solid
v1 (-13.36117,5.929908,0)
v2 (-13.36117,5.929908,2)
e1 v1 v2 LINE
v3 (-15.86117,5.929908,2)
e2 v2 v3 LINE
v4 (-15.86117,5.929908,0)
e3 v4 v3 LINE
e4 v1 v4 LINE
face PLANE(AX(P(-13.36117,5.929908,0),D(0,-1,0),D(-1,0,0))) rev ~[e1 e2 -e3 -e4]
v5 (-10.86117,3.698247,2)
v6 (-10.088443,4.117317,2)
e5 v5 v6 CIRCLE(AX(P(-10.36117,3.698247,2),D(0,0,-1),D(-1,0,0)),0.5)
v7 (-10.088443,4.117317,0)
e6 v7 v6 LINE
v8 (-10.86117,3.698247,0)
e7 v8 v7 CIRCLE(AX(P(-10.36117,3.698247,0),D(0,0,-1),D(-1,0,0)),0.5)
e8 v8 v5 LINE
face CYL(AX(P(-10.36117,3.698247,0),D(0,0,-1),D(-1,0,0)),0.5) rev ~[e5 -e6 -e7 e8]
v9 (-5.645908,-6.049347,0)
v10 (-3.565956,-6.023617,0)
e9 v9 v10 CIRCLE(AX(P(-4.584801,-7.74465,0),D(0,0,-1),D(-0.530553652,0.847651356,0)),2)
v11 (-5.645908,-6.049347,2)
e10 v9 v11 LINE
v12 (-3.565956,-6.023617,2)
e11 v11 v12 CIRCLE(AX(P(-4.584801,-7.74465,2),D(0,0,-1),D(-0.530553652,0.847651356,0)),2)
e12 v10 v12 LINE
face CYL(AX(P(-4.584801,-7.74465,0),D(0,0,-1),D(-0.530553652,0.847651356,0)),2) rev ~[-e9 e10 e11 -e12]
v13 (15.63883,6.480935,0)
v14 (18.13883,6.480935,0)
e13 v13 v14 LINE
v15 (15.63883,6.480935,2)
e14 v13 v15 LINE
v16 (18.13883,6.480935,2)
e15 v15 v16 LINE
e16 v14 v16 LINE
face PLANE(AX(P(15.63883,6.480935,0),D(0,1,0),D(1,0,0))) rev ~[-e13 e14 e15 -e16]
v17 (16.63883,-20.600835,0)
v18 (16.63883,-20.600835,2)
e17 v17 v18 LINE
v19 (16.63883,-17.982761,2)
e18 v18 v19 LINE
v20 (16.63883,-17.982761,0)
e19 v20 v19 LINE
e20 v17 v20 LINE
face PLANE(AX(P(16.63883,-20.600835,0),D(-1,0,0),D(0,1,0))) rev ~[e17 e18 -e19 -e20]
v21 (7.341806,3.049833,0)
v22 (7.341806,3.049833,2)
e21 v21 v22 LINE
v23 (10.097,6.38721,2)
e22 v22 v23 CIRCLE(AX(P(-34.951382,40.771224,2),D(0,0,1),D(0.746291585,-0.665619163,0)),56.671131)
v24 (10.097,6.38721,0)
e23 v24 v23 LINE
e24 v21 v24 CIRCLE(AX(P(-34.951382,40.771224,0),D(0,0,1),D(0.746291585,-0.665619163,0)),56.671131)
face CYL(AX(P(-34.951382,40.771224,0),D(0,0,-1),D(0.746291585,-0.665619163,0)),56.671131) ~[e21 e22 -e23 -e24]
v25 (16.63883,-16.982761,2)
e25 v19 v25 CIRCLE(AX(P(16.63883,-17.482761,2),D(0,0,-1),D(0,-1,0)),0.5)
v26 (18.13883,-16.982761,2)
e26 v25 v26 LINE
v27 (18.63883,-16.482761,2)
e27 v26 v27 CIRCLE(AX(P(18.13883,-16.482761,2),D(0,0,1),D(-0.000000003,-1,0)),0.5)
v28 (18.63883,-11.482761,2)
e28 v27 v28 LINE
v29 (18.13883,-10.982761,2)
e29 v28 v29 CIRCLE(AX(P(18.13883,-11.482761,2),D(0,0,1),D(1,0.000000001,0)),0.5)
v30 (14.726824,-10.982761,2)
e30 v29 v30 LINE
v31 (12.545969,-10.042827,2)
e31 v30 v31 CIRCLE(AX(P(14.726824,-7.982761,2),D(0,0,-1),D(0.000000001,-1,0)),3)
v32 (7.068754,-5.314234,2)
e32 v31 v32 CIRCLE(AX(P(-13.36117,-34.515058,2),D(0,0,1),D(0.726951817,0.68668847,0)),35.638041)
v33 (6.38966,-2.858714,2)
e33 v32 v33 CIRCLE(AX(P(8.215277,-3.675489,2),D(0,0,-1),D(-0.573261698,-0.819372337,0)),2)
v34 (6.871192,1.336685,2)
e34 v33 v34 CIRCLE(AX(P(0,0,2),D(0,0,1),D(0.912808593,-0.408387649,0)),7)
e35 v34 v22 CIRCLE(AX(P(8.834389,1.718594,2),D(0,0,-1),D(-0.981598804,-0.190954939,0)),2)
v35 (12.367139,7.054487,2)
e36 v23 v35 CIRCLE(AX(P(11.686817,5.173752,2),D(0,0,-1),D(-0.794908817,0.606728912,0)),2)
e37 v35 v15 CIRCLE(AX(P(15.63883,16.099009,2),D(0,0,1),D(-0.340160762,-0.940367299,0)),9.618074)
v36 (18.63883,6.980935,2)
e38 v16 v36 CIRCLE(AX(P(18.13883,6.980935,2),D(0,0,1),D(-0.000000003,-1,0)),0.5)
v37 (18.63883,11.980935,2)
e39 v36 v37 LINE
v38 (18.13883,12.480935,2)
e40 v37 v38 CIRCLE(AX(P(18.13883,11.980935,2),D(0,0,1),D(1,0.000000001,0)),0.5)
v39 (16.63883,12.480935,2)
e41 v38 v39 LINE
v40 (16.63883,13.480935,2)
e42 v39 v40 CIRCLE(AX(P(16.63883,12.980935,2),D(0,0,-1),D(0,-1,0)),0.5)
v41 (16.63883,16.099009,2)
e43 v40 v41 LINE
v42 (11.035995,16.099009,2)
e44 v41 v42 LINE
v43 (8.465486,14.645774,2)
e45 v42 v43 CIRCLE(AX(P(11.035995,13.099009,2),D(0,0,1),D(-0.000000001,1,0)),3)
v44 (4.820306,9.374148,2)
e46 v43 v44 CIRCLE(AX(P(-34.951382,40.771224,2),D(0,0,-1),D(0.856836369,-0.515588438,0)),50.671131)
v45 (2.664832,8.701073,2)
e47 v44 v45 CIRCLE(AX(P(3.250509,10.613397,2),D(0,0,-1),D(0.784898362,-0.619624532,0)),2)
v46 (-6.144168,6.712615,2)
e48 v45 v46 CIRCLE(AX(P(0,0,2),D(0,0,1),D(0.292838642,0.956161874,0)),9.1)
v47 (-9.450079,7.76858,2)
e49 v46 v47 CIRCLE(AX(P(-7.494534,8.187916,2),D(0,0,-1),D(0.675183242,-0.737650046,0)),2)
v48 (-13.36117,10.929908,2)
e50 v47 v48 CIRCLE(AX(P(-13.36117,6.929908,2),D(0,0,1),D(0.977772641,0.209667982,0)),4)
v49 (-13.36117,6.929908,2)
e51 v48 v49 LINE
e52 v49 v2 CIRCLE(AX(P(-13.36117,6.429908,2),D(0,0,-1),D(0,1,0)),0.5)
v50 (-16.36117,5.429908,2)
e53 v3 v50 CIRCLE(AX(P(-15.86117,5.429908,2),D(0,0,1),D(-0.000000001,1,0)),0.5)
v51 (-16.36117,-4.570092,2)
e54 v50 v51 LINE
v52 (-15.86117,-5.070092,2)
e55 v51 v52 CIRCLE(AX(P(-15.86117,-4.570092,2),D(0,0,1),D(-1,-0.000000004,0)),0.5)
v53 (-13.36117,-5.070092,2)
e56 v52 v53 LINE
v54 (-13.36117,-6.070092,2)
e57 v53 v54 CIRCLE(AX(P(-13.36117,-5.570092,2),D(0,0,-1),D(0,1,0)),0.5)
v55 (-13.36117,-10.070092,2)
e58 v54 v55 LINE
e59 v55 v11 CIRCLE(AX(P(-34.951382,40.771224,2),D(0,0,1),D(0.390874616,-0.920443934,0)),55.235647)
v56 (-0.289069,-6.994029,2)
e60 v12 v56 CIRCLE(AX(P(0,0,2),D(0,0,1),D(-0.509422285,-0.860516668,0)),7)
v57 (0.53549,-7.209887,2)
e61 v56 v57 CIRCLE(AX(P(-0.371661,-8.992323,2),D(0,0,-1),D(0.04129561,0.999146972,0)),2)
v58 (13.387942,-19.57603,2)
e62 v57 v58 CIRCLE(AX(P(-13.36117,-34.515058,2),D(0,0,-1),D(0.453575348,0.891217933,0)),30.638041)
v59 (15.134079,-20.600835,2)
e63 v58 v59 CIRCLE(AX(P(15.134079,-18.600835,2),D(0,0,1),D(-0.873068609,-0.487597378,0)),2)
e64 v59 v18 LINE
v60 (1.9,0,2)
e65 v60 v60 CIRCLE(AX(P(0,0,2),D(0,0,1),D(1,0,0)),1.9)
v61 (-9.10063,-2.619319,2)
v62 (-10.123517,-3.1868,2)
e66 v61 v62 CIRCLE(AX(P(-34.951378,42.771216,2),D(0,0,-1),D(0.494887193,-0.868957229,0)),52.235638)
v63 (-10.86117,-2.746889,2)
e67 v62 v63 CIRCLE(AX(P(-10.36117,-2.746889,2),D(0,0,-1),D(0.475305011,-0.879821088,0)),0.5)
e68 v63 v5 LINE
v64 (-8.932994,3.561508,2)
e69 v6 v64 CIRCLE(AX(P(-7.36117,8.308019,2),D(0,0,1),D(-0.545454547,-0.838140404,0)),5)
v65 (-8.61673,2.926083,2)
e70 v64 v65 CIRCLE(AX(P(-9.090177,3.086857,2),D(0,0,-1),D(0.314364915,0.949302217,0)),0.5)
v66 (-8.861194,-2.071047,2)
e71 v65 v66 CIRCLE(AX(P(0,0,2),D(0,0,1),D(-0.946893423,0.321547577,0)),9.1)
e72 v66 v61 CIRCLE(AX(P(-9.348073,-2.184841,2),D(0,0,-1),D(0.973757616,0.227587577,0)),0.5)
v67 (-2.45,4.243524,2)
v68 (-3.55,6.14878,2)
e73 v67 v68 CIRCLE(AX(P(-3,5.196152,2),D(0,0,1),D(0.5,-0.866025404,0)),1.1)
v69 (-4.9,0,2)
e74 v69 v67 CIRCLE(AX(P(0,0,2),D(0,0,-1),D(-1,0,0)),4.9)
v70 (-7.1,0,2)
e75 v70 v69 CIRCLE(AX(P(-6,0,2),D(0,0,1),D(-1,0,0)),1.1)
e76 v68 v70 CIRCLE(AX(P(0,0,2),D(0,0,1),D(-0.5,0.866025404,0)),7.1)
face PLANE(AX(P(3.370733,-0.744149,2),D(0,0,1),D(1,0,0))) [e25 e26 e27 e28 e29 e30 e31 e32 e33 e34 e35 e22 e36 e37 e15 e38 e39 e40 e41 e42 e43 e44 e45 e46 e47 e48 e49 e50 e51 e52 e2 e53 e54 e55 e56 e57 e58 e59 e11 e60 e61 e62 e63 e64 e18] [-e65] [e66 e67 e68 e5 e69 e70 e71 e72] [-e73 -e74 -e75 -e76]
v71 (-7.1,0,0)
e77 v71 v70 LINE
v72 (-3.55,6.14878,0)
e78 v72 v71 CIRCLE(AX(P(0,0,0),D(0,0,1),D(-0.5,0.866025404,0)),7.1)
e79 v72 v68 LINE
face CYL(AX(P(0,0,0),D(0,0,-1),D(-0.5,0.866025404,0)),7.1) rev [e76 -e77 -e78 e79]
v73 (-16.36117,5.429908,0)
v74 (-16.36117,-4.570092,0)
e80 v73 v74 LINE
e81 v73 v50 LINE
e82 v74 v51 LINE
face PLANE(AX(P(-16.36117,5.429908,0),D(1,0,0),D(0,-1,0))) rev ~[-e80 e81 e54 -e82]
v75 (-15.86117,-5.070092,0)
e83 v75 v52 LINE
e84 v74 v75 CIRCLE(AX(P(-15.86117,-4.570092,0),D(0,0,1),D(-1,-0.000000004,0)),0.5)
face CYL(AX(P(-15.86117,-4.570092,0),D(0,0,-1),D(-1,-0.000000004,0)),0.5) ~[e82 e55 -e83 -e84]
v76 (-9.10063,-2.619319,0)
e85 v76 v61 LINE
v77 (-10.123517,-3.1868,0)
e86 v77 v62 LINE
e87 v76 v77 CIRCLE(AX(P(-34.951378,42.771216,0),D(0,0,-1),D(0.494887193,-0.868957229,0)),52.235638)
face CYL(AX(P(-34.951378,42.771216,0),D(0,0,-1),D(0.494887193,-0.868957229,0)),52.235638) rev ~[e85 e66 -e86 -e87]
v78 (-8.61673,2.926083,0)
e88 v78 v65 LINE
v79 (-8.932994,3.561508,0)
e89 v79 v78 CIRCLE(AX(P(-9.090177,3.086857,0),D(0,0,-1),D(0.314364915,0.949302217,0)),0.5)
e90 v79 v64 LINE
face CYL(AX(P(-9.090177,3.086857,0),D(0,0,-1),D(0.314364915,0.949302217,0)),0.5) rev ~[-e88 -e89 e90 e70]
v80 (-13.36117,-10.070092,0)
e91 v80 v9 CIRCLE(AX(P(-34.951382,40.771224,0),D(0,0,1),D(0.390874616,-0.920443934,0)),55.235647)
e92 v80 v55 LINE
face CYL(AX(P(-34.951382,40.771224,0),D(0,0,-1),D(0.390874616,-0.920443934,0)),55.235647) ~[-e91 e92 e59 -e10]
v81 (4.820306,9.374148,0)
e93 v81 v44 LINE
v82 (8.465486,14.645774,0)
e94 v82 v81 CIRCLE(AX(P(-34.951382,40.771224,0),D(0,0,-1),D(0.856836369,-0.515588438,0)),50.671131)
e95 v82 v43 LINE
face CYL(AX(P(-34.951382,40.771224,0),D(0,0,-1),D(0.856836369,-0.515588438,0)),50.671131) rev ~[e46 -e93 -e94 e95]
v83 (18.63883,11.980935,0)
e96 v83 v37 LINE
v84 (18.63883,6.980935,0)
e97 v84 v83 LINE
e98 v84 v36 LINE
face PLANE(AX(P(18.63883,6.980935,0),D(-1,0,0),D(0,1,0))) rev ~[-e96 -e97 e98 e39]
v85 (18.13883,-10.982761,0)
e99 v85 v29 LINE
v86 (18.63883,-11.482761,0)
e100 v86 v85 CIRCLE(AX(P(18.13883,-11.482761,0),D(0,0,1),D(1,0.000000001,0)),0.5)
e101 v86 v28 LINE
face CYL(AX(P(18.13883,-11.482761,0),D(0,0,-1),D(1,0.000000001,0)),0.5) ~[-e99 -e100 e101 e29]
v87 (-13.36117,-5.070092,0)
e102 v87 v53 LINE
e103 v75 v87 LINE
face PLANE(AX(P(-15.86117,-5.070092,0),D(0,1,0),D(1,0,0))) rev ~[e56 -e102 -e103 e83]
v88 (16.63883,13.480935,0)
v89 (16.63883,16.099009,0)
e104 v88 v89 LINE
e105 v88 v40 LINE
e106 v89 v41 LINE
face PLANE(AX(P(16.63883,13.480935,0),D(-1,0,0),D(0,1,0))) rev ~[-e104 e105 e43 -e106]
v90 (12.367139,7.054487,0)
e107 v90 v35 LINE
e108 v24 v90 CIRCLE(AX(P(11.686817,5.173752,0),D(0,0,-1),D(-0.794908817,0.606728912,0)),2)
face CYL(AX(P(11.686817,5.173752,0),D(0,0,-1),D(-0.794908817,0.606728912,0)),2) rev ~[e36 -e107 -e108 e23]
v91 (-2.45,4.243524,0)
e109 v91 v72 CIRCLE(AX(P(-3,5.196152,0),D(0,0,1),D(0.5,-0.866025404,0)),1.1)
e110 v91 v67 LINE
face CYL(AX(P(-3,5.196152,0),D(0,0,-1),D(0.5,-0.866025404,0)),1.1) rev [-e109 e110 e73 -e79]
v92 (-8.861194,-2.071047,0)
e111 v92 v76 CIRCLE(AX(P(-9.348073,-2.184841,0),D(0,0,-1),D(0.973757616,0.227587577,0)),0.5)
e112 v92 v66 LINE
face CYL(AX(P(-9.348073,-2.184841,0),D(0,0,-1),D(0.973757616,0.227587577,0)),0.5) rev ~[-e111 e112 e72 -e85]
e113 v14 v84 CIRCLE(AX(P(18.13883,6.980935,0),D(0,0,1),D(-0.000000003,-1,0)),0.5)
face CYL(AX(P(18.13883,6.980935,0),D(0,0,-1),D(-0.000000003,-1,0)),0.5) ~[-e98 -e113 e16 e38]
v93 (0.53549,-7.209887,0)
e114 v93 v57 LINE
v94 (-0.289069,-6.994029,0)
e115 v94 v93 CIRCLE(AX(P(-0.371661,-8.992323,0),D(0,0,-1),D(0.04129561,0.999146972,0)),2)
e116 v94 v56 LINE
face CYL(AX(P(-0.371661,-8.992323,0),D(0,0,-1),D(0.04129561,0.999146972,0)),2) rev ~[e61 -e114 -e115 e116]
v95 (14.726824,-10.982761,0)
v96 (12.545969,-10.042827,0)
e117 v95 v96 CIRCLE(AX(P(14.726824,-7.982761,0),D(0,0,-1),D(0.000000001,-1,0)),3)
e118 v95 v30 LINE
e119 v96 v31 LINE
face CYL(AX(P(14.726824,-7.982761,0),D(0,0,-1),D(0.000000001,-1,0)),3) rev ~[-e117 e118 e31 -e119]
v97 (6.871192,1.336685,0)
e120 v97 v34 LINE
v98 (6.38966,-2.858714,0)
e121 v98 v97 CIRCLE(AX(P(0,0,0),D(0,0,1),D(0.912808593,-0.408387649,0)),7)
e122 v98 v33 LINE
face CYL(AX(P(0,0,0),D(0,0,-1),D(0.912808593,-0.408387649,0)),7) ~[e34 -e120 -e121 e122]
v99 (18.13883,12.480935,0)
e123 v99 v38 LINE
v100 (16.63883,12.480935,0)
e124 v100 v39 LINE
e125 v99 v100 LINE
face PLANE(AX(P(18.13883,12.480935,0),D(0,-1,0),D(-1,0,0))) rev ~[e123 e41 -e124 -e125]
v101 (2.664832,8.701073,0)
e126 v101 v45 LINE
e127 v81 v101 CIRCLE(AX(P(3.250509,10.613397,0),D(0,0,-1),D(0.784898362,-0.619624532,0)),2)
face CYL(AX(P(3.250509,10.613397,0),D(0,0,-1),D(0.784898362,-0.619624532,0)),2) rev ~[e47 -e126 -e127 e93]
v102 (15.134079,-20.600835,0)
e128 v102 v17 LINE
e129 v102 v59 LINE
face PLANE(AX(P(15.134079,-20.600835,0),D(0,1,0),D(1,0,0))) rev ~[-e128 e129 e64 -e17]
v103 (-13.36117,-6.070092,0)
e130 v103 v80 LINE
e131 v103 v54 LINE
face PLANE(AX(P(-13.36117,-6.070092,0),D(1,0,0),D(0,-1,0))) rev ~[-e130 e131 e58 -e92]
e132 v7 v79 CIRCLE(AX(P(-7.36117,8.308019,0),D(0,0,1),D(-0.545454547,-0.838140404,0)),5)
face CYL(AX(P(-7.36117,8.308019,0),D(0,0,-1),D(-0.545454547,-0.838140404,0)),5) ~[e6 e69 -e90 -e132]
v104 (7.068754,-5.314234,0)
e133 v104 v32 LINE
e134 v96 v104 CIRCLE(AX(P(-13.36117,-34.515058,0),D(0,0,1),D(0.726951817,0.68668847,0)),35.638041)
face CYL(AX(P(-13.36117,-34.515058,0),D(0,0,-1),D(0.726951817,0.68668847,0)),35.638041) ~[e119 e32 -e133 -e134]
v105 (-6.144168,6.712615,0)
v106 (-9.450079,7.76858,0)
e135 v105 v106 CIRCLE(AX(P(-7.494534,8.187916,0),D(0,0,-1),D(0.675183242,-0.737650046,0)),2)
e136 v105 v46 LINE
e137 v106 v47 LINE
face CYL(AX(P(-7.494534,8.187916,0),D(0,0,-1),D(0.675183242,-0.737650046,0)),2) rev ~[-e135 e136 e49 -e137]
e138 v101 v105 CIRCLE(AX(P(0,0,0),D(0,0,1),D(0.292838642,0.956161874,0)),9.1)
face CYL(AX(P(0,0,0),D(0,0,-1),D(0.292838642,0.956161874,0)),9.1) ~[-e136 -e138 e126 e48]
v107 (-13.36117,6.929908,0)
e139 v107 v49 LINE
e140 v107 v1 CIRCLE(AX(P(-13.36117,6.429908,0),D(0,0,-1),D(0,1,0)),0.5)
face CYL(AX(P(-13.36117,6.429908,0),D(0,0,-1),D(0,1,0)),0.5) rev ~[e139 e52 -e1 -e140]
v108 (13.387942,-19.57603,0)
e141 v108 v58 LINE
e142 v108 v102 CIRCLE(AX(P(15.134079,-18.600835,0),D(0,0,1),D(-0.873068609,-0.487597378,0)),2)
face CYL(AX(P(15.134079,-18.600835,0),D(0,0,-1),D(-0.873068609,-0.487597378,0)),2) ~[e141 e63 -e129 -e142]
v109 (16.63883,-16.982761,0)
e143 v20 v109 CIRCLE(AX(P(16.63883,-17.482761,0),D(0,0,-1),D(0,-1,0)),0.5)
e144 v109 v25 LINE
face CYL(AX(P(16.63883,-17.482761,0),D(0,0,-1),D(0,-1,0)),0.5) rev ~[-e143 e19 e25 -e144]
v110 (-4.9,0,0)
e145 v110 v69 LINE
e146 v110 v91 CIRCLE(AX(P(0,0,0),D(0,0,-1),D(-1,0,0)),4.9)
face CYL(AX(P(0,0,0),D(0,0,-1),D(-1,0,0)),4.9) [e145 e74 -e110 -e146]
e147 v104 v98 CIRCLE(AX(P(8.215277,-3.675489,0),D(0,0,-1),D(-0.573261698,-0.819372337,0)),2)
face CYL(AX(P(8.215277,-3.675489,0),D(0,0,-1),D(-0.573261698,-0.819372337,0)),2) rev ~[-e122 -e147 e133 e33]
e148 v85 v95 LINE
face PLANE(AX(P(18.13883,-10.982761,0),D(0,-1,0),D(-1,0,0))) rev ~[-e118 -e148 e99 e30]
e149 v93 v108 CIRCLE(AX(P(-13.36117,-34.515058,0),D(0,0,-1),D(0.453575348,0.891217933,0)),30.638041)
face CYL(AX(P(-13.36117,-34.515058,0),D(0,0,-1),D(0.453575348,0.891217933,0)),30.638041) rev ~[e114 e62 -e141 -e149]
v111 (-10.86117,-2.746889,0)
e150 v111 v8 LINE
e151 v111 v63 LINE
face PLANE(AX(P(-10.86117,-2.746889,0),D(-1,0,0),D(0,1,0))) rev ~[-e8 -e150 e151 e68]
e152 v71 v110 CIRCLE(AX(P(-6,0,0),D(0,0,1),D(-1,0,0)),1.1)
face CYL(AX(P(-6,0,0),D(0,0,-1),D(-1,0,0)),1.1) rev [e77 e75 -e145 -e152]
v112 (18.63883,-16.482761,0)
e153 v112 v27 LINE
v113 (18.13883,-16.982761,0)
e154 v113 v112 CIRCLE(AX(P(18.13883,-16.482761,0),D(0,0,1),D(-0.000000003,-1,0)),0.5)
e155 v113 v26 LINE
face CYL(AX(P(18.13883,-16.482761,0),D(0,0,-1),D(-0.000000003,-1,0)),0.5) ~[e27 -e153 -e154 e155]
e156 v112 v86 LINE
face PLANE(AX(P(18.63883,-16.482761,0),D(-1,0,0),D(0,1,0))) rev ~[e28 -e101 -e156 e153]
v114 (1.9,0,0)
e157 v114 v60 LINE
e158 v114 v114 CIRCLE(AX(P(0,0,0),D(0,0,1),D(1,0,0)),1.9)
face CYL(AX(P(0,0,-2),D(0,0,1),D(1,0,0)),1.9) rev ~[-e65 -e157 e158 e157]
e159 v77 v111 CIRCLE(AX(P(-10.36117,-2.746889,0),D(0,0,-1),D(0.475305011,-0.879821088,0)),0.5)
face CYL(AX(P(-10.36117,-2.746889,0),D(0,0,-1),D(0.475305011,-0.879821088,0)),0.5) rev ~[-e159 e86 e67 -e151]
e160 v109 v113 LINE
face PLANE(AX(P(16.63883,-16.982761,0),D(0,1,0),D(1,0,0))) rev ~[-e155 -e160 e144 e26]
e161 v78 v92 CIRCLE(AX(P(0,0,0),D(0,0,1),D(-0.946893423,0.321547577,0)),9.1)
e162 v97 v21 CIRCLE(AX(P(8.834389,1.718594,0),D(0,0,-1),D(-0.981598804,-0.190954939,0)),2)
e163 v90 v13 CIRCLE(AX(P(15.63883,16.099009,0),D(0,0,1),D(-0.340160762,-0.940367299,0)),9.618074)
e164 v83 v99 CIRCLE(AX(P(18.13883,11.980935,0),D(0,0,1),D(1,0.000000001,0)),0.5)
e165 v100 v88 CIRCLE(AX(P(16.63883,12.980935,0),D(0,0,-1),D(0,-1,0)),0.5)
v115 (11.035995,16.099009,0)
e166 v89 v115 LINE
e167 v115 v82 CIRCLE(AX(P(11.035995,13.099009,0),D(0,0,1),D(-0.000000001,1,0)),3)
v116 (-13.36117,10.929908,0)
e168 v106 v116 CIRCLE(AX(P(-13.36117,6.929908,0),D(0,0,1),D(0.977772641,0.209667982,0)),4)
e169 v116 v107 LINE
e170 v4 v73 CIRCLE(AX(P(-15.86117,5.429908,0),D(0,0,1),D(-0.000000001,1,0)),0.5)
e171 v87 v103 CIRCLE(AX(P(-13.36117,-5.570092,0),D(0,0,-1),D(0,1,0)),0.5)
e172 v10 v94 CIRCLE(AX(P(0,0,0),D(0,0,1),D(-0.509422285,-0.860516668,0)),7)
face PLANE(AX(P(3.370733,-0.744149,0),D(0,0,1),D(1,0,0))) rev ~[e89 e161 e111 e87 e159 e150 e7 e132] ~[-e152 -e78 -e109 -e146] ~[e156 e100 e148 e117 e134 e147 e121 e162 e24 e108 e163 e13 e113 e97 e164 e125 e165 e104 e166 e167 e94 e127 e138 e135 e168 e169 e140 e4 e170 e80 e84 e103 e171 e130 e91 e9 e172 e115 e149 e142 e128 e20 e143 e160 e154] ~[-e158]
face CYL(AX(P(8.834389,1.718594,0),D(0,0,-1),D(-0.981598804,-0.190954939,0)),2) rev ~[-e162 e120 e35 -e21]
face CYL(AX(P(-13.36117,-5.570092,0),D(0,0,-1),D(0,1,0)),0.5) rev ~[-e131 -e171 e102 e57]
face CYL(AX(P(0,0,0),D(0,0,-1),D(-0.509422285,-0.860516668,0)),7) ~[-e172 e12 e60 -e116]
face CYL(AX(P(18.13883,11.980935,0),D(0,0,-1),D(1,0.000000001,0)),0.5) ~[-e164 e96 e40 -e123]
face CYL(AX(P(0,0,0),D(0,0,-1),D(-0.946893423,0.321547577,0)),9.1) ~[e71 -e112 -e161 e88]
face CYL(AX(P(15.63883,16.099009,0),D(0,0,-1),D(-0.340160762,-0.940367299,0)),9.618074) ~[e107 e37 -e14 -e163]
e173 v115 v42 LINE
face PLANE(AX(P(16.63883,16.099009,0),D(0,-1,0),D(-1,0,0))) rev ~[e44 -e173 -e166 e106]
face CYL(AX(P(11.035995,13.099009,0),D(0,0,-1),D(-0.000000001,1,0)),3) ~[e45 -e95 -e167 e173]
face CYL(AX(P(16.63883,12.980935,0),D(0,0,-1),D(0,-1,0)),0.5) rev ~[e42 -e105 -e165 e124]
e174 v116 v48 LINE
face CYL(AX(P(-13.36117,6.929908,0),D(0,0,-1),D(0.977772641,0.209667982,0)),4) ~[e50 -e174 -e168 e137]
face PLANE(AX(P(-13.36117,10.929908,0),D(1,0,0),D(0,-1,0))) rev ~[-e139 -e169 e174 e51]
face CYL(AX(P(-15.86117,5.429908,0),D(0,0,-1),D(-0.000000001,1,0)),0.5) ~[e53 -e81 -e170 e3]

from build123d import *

# Parameters (mm, degrees)
BOSS_EXTRUDE1_DEPTH        = 2
M3_5_CLEARANCE_HOLE1_D     = 3.8
M3_5_CLEARANCE_HOLE1_DEPTH = 2


with BuildPart() as part:
    # Sketch1 → Boss-Extrude1 (new body)
    with BuildSketch(Plane.XY):
        with BuildLine():
            Line((18.63883017, -16.482761143), (18.63883017, -11.482761143))
            ThreePointArc((18.63883017, -11.482761143), (18.492383561, -11.129207753), (18.13883017, -10.982761143))
            Line((18.13883017, -10.982761143), (14.726824149, -10.982761143))
            ThreePointArc((14.726824149, -10.982761143), (13.539431255, -10.737774413), (12.545968697, -10.042826553))
            ThreePointArc((12.545968697, -10.042826553), (9.927684451, -7.539157578), (7.068753945, -5.314233513))
            ThreePointArc((7.068753945, -5.314233513), (6.287636427, -4.208593434), (6.389660154, -2.858713543))
            ThreePointArc((6.389660154, -2.858713543), (6.954343162, -0.798192452), (6.871191626, 1.336684568))
            ThreePointArc((6.871191626, 1.336684568), (6.905834234, 2.248382718), (7.341806065, 3.049832772))
            ThreePointArc((7.341806065, 3.049832772), (8.751272055, 4.692211544), (10.096999644, 6.387209969))
            ThreePointArc((10.096999644, 6.387209969), (11.122804542, 7.092577212), (12.367138803, 7.054486744))
            ThreePointArc((12.367138803, 7.054486744), (13.978037739, 6.625408008), (15.63883017, 6.480935011))
            Line((15.63883017, 6.480935011), (18.13883017, 6.480935011))
            ThreePointArc((18.13883017, 6.480935011), (18.492383561, 6.62738162), (18.63883017, 6.980935011))
            Line((18.63883017, 6.980935011), (18.63883017, 11.980935011))
            ThreePointArc((18.63883017, 11.980935011), (18.492383561, 12.334488401), (18.13883017, 12.480935011))
            Line((18.13883017, 12.480935011), (16.63883017, 12.480935011))
            ThreePointArc((16.63883017, 12.480935011), (16.13883017, 12.980935011), (16.63883017, 13.480935011))
            Line((16.63883017, 13.480935011), (16.63883017, 16.099008984))
            Line((16.63883017, 16.099008984), (11.035994897, 16.099008984))
            ThreePointArc((11.035994897, 16.099008984), (9.559562701, 15.710550285), (8.465485791, 14.645774297))
            ThreePointArc((8.465485791, 14.645774297), (6.726327278, 11.952270464), (4.820305649, 9.37414774))
            ThreePointArc((4.820305649, 9.37414774), (3.846646619, 8.704308056), (2.664831641, 8.701073056))
            ThreePointArc((2.664831641, 8.701073056), (-2.003730385, 8.876658411), (-6.144167501, 6.712615415))
            ThreePointArc((-6.144167501, 6.712615415), (-8.103077659, 6.282745016), (-9.450079267, 7.768579541))
            ThreePointArc((-9.450079267, 7.768579541), (-10.84668059, 10.040750561), (-13.36116983, 10.92990761))
            Line((-13.36116983, 10.92990761), (-13.36116983, 6.92990761))
            ThreePointArc((-13.36116983, 6.92990761), (-12.86116983, 6.42990761), (-13.36116983, 5.92990761))
            Line((-13.36116983, 5.92990761), (-15.86116983, 5.92990761))
            ThreePointArc((-15.86116983, 5.92990761), (-16.21472322, 5.783461001), (-16.36116983, 5.42990761))
            Line((-16.36116983, 5.42990761), (-16.36116983, -4.57009239))
            ThreePointArc((-16.36116983, -4.57009239), (-16.21472322, -4.92364578), (-15.86116983, -5.07009239))
            Line((-15.86116983, -5.07009239), (-13.36116983, -5.07009239))
            ThreePointArc((-13.36116983, -5.07009239), (-12.86116983, -5.57009239), (-13.36116983, -6.07009239))
            Line((-13.36116983, -6.07009239), (-13.36116983, -10.07009239))
            ThreePointArc((-13.36116983, -10.07009239), (-9.424252929, -8.211858727), (-5.645907876, -6.049347295))
            ThreePointArc((-5.645907876, -6.049347295), (-4.609540233, -5.744803026), (-3.565955999, -6.023616672))
            ThreePointArc((-3.565955999, -6.023616672), (-1.987644312, -6.711875303), (-0.289069284, -6.994028807))
            ThreePointArc((-0.289069284, -6.994028807), (0.134843139, -7.057521972), (0.535490188, -7.209886886))
            ThreePointArc((0.535490188, -7.209886886), (7.881477412, -12.437026609), (13.387941825, -19.576029874))
            ThreePointArc((13.387941825, -19.576029874), (14.121752395, -20.325710404), (15.134079043, -20.600835116))
            Line((15.134079043, -20.600835116), (16.63883017, -20.600835116))
            Line((16.63883017, -20.600835116), (16.63883017, -17.982761143))
            ThreePointArc((16.63883017, -17.982761143), (16.13883017, -17.482761143), (16.63883017, -16.982761143))
            Line((16.63883017, -16.982761143), (18.13883017, -16.982761143))
            ThreePointArc((18.13883017, -16.982761143), (18.492383561, -16.836314534), (18.63883017, -16.482761143))
        make_face()
        with BuildLine():
            Line((-10.86116983, -2.746889398), (-10.86116983, 3.698246713))
            ThreePointArc((-10.86116983, 3.698246713), (-10.599535477, 4.13777125), (-10.088442557, 4.117316916))
            ThreePointArc((-10.088442557, 4.117316916), (-9.528608488, 3.802221602), (-8.932994407, 3.561507855))
            ThreePointArc((-8.932994407, 3.561507855), (-8.642555945, 3.309647034), (-8.616730153, 2.926082957))
            ThreePointArc((-8.616730153, 2.926082957), (-9.089130193, 0.444648546), (-8.861194309, -2.071046938))
            ThreePointArc((-8.861194309, -2.071046938), (-8.88986137, -2.384945686), (-9.100629521, -2.619319341))
            ThreePointArc((-9.100629521, -2.619319341), (-9.610484862, -2.905923033), (-10.123517324, -3.186799942))
            ThreePointArc((-10.123517324, -3.186799942), (-10.617269173, -3.176322893), (-10.86116983, -2.746889398))
        make_face(mode=Mode.SUBTRACT)
        with BuildLine():
            ThreePointArc((-3.55, 6.148780367), (-6.148780367, 3.55), (-7.1, 0))
            ThreePointArc((-7.1, 0), (-6, -1.1), (-4.9, 0))
            ThreePointArc((-4.9, 0), (-4.243524479, 2.45), (-2.45, 4.243524479))
            ThreePointArc((-2.45, 4.243524479), (-2.047372056, 5.746152423), (-3.55, 6.148780367))
        make_face(mode=Mode.SUBTRACT)
    extrude(amount=BOSS_EXTRUDE1_DEPTH)

    # M3.5 Clearance Hole1
    with Locations(Plane(origin=(0, 0, 0), x_dir=(-1, 0, 0), z_dir=(0, 0, -1))):
        with Locations((0, 0)):
            Hole(M3_5_CLEARANCE_HOLE1_D / 2, depth=M3_5_CLEARANCE_HOLE1_DEPTH)


solid = part.part
